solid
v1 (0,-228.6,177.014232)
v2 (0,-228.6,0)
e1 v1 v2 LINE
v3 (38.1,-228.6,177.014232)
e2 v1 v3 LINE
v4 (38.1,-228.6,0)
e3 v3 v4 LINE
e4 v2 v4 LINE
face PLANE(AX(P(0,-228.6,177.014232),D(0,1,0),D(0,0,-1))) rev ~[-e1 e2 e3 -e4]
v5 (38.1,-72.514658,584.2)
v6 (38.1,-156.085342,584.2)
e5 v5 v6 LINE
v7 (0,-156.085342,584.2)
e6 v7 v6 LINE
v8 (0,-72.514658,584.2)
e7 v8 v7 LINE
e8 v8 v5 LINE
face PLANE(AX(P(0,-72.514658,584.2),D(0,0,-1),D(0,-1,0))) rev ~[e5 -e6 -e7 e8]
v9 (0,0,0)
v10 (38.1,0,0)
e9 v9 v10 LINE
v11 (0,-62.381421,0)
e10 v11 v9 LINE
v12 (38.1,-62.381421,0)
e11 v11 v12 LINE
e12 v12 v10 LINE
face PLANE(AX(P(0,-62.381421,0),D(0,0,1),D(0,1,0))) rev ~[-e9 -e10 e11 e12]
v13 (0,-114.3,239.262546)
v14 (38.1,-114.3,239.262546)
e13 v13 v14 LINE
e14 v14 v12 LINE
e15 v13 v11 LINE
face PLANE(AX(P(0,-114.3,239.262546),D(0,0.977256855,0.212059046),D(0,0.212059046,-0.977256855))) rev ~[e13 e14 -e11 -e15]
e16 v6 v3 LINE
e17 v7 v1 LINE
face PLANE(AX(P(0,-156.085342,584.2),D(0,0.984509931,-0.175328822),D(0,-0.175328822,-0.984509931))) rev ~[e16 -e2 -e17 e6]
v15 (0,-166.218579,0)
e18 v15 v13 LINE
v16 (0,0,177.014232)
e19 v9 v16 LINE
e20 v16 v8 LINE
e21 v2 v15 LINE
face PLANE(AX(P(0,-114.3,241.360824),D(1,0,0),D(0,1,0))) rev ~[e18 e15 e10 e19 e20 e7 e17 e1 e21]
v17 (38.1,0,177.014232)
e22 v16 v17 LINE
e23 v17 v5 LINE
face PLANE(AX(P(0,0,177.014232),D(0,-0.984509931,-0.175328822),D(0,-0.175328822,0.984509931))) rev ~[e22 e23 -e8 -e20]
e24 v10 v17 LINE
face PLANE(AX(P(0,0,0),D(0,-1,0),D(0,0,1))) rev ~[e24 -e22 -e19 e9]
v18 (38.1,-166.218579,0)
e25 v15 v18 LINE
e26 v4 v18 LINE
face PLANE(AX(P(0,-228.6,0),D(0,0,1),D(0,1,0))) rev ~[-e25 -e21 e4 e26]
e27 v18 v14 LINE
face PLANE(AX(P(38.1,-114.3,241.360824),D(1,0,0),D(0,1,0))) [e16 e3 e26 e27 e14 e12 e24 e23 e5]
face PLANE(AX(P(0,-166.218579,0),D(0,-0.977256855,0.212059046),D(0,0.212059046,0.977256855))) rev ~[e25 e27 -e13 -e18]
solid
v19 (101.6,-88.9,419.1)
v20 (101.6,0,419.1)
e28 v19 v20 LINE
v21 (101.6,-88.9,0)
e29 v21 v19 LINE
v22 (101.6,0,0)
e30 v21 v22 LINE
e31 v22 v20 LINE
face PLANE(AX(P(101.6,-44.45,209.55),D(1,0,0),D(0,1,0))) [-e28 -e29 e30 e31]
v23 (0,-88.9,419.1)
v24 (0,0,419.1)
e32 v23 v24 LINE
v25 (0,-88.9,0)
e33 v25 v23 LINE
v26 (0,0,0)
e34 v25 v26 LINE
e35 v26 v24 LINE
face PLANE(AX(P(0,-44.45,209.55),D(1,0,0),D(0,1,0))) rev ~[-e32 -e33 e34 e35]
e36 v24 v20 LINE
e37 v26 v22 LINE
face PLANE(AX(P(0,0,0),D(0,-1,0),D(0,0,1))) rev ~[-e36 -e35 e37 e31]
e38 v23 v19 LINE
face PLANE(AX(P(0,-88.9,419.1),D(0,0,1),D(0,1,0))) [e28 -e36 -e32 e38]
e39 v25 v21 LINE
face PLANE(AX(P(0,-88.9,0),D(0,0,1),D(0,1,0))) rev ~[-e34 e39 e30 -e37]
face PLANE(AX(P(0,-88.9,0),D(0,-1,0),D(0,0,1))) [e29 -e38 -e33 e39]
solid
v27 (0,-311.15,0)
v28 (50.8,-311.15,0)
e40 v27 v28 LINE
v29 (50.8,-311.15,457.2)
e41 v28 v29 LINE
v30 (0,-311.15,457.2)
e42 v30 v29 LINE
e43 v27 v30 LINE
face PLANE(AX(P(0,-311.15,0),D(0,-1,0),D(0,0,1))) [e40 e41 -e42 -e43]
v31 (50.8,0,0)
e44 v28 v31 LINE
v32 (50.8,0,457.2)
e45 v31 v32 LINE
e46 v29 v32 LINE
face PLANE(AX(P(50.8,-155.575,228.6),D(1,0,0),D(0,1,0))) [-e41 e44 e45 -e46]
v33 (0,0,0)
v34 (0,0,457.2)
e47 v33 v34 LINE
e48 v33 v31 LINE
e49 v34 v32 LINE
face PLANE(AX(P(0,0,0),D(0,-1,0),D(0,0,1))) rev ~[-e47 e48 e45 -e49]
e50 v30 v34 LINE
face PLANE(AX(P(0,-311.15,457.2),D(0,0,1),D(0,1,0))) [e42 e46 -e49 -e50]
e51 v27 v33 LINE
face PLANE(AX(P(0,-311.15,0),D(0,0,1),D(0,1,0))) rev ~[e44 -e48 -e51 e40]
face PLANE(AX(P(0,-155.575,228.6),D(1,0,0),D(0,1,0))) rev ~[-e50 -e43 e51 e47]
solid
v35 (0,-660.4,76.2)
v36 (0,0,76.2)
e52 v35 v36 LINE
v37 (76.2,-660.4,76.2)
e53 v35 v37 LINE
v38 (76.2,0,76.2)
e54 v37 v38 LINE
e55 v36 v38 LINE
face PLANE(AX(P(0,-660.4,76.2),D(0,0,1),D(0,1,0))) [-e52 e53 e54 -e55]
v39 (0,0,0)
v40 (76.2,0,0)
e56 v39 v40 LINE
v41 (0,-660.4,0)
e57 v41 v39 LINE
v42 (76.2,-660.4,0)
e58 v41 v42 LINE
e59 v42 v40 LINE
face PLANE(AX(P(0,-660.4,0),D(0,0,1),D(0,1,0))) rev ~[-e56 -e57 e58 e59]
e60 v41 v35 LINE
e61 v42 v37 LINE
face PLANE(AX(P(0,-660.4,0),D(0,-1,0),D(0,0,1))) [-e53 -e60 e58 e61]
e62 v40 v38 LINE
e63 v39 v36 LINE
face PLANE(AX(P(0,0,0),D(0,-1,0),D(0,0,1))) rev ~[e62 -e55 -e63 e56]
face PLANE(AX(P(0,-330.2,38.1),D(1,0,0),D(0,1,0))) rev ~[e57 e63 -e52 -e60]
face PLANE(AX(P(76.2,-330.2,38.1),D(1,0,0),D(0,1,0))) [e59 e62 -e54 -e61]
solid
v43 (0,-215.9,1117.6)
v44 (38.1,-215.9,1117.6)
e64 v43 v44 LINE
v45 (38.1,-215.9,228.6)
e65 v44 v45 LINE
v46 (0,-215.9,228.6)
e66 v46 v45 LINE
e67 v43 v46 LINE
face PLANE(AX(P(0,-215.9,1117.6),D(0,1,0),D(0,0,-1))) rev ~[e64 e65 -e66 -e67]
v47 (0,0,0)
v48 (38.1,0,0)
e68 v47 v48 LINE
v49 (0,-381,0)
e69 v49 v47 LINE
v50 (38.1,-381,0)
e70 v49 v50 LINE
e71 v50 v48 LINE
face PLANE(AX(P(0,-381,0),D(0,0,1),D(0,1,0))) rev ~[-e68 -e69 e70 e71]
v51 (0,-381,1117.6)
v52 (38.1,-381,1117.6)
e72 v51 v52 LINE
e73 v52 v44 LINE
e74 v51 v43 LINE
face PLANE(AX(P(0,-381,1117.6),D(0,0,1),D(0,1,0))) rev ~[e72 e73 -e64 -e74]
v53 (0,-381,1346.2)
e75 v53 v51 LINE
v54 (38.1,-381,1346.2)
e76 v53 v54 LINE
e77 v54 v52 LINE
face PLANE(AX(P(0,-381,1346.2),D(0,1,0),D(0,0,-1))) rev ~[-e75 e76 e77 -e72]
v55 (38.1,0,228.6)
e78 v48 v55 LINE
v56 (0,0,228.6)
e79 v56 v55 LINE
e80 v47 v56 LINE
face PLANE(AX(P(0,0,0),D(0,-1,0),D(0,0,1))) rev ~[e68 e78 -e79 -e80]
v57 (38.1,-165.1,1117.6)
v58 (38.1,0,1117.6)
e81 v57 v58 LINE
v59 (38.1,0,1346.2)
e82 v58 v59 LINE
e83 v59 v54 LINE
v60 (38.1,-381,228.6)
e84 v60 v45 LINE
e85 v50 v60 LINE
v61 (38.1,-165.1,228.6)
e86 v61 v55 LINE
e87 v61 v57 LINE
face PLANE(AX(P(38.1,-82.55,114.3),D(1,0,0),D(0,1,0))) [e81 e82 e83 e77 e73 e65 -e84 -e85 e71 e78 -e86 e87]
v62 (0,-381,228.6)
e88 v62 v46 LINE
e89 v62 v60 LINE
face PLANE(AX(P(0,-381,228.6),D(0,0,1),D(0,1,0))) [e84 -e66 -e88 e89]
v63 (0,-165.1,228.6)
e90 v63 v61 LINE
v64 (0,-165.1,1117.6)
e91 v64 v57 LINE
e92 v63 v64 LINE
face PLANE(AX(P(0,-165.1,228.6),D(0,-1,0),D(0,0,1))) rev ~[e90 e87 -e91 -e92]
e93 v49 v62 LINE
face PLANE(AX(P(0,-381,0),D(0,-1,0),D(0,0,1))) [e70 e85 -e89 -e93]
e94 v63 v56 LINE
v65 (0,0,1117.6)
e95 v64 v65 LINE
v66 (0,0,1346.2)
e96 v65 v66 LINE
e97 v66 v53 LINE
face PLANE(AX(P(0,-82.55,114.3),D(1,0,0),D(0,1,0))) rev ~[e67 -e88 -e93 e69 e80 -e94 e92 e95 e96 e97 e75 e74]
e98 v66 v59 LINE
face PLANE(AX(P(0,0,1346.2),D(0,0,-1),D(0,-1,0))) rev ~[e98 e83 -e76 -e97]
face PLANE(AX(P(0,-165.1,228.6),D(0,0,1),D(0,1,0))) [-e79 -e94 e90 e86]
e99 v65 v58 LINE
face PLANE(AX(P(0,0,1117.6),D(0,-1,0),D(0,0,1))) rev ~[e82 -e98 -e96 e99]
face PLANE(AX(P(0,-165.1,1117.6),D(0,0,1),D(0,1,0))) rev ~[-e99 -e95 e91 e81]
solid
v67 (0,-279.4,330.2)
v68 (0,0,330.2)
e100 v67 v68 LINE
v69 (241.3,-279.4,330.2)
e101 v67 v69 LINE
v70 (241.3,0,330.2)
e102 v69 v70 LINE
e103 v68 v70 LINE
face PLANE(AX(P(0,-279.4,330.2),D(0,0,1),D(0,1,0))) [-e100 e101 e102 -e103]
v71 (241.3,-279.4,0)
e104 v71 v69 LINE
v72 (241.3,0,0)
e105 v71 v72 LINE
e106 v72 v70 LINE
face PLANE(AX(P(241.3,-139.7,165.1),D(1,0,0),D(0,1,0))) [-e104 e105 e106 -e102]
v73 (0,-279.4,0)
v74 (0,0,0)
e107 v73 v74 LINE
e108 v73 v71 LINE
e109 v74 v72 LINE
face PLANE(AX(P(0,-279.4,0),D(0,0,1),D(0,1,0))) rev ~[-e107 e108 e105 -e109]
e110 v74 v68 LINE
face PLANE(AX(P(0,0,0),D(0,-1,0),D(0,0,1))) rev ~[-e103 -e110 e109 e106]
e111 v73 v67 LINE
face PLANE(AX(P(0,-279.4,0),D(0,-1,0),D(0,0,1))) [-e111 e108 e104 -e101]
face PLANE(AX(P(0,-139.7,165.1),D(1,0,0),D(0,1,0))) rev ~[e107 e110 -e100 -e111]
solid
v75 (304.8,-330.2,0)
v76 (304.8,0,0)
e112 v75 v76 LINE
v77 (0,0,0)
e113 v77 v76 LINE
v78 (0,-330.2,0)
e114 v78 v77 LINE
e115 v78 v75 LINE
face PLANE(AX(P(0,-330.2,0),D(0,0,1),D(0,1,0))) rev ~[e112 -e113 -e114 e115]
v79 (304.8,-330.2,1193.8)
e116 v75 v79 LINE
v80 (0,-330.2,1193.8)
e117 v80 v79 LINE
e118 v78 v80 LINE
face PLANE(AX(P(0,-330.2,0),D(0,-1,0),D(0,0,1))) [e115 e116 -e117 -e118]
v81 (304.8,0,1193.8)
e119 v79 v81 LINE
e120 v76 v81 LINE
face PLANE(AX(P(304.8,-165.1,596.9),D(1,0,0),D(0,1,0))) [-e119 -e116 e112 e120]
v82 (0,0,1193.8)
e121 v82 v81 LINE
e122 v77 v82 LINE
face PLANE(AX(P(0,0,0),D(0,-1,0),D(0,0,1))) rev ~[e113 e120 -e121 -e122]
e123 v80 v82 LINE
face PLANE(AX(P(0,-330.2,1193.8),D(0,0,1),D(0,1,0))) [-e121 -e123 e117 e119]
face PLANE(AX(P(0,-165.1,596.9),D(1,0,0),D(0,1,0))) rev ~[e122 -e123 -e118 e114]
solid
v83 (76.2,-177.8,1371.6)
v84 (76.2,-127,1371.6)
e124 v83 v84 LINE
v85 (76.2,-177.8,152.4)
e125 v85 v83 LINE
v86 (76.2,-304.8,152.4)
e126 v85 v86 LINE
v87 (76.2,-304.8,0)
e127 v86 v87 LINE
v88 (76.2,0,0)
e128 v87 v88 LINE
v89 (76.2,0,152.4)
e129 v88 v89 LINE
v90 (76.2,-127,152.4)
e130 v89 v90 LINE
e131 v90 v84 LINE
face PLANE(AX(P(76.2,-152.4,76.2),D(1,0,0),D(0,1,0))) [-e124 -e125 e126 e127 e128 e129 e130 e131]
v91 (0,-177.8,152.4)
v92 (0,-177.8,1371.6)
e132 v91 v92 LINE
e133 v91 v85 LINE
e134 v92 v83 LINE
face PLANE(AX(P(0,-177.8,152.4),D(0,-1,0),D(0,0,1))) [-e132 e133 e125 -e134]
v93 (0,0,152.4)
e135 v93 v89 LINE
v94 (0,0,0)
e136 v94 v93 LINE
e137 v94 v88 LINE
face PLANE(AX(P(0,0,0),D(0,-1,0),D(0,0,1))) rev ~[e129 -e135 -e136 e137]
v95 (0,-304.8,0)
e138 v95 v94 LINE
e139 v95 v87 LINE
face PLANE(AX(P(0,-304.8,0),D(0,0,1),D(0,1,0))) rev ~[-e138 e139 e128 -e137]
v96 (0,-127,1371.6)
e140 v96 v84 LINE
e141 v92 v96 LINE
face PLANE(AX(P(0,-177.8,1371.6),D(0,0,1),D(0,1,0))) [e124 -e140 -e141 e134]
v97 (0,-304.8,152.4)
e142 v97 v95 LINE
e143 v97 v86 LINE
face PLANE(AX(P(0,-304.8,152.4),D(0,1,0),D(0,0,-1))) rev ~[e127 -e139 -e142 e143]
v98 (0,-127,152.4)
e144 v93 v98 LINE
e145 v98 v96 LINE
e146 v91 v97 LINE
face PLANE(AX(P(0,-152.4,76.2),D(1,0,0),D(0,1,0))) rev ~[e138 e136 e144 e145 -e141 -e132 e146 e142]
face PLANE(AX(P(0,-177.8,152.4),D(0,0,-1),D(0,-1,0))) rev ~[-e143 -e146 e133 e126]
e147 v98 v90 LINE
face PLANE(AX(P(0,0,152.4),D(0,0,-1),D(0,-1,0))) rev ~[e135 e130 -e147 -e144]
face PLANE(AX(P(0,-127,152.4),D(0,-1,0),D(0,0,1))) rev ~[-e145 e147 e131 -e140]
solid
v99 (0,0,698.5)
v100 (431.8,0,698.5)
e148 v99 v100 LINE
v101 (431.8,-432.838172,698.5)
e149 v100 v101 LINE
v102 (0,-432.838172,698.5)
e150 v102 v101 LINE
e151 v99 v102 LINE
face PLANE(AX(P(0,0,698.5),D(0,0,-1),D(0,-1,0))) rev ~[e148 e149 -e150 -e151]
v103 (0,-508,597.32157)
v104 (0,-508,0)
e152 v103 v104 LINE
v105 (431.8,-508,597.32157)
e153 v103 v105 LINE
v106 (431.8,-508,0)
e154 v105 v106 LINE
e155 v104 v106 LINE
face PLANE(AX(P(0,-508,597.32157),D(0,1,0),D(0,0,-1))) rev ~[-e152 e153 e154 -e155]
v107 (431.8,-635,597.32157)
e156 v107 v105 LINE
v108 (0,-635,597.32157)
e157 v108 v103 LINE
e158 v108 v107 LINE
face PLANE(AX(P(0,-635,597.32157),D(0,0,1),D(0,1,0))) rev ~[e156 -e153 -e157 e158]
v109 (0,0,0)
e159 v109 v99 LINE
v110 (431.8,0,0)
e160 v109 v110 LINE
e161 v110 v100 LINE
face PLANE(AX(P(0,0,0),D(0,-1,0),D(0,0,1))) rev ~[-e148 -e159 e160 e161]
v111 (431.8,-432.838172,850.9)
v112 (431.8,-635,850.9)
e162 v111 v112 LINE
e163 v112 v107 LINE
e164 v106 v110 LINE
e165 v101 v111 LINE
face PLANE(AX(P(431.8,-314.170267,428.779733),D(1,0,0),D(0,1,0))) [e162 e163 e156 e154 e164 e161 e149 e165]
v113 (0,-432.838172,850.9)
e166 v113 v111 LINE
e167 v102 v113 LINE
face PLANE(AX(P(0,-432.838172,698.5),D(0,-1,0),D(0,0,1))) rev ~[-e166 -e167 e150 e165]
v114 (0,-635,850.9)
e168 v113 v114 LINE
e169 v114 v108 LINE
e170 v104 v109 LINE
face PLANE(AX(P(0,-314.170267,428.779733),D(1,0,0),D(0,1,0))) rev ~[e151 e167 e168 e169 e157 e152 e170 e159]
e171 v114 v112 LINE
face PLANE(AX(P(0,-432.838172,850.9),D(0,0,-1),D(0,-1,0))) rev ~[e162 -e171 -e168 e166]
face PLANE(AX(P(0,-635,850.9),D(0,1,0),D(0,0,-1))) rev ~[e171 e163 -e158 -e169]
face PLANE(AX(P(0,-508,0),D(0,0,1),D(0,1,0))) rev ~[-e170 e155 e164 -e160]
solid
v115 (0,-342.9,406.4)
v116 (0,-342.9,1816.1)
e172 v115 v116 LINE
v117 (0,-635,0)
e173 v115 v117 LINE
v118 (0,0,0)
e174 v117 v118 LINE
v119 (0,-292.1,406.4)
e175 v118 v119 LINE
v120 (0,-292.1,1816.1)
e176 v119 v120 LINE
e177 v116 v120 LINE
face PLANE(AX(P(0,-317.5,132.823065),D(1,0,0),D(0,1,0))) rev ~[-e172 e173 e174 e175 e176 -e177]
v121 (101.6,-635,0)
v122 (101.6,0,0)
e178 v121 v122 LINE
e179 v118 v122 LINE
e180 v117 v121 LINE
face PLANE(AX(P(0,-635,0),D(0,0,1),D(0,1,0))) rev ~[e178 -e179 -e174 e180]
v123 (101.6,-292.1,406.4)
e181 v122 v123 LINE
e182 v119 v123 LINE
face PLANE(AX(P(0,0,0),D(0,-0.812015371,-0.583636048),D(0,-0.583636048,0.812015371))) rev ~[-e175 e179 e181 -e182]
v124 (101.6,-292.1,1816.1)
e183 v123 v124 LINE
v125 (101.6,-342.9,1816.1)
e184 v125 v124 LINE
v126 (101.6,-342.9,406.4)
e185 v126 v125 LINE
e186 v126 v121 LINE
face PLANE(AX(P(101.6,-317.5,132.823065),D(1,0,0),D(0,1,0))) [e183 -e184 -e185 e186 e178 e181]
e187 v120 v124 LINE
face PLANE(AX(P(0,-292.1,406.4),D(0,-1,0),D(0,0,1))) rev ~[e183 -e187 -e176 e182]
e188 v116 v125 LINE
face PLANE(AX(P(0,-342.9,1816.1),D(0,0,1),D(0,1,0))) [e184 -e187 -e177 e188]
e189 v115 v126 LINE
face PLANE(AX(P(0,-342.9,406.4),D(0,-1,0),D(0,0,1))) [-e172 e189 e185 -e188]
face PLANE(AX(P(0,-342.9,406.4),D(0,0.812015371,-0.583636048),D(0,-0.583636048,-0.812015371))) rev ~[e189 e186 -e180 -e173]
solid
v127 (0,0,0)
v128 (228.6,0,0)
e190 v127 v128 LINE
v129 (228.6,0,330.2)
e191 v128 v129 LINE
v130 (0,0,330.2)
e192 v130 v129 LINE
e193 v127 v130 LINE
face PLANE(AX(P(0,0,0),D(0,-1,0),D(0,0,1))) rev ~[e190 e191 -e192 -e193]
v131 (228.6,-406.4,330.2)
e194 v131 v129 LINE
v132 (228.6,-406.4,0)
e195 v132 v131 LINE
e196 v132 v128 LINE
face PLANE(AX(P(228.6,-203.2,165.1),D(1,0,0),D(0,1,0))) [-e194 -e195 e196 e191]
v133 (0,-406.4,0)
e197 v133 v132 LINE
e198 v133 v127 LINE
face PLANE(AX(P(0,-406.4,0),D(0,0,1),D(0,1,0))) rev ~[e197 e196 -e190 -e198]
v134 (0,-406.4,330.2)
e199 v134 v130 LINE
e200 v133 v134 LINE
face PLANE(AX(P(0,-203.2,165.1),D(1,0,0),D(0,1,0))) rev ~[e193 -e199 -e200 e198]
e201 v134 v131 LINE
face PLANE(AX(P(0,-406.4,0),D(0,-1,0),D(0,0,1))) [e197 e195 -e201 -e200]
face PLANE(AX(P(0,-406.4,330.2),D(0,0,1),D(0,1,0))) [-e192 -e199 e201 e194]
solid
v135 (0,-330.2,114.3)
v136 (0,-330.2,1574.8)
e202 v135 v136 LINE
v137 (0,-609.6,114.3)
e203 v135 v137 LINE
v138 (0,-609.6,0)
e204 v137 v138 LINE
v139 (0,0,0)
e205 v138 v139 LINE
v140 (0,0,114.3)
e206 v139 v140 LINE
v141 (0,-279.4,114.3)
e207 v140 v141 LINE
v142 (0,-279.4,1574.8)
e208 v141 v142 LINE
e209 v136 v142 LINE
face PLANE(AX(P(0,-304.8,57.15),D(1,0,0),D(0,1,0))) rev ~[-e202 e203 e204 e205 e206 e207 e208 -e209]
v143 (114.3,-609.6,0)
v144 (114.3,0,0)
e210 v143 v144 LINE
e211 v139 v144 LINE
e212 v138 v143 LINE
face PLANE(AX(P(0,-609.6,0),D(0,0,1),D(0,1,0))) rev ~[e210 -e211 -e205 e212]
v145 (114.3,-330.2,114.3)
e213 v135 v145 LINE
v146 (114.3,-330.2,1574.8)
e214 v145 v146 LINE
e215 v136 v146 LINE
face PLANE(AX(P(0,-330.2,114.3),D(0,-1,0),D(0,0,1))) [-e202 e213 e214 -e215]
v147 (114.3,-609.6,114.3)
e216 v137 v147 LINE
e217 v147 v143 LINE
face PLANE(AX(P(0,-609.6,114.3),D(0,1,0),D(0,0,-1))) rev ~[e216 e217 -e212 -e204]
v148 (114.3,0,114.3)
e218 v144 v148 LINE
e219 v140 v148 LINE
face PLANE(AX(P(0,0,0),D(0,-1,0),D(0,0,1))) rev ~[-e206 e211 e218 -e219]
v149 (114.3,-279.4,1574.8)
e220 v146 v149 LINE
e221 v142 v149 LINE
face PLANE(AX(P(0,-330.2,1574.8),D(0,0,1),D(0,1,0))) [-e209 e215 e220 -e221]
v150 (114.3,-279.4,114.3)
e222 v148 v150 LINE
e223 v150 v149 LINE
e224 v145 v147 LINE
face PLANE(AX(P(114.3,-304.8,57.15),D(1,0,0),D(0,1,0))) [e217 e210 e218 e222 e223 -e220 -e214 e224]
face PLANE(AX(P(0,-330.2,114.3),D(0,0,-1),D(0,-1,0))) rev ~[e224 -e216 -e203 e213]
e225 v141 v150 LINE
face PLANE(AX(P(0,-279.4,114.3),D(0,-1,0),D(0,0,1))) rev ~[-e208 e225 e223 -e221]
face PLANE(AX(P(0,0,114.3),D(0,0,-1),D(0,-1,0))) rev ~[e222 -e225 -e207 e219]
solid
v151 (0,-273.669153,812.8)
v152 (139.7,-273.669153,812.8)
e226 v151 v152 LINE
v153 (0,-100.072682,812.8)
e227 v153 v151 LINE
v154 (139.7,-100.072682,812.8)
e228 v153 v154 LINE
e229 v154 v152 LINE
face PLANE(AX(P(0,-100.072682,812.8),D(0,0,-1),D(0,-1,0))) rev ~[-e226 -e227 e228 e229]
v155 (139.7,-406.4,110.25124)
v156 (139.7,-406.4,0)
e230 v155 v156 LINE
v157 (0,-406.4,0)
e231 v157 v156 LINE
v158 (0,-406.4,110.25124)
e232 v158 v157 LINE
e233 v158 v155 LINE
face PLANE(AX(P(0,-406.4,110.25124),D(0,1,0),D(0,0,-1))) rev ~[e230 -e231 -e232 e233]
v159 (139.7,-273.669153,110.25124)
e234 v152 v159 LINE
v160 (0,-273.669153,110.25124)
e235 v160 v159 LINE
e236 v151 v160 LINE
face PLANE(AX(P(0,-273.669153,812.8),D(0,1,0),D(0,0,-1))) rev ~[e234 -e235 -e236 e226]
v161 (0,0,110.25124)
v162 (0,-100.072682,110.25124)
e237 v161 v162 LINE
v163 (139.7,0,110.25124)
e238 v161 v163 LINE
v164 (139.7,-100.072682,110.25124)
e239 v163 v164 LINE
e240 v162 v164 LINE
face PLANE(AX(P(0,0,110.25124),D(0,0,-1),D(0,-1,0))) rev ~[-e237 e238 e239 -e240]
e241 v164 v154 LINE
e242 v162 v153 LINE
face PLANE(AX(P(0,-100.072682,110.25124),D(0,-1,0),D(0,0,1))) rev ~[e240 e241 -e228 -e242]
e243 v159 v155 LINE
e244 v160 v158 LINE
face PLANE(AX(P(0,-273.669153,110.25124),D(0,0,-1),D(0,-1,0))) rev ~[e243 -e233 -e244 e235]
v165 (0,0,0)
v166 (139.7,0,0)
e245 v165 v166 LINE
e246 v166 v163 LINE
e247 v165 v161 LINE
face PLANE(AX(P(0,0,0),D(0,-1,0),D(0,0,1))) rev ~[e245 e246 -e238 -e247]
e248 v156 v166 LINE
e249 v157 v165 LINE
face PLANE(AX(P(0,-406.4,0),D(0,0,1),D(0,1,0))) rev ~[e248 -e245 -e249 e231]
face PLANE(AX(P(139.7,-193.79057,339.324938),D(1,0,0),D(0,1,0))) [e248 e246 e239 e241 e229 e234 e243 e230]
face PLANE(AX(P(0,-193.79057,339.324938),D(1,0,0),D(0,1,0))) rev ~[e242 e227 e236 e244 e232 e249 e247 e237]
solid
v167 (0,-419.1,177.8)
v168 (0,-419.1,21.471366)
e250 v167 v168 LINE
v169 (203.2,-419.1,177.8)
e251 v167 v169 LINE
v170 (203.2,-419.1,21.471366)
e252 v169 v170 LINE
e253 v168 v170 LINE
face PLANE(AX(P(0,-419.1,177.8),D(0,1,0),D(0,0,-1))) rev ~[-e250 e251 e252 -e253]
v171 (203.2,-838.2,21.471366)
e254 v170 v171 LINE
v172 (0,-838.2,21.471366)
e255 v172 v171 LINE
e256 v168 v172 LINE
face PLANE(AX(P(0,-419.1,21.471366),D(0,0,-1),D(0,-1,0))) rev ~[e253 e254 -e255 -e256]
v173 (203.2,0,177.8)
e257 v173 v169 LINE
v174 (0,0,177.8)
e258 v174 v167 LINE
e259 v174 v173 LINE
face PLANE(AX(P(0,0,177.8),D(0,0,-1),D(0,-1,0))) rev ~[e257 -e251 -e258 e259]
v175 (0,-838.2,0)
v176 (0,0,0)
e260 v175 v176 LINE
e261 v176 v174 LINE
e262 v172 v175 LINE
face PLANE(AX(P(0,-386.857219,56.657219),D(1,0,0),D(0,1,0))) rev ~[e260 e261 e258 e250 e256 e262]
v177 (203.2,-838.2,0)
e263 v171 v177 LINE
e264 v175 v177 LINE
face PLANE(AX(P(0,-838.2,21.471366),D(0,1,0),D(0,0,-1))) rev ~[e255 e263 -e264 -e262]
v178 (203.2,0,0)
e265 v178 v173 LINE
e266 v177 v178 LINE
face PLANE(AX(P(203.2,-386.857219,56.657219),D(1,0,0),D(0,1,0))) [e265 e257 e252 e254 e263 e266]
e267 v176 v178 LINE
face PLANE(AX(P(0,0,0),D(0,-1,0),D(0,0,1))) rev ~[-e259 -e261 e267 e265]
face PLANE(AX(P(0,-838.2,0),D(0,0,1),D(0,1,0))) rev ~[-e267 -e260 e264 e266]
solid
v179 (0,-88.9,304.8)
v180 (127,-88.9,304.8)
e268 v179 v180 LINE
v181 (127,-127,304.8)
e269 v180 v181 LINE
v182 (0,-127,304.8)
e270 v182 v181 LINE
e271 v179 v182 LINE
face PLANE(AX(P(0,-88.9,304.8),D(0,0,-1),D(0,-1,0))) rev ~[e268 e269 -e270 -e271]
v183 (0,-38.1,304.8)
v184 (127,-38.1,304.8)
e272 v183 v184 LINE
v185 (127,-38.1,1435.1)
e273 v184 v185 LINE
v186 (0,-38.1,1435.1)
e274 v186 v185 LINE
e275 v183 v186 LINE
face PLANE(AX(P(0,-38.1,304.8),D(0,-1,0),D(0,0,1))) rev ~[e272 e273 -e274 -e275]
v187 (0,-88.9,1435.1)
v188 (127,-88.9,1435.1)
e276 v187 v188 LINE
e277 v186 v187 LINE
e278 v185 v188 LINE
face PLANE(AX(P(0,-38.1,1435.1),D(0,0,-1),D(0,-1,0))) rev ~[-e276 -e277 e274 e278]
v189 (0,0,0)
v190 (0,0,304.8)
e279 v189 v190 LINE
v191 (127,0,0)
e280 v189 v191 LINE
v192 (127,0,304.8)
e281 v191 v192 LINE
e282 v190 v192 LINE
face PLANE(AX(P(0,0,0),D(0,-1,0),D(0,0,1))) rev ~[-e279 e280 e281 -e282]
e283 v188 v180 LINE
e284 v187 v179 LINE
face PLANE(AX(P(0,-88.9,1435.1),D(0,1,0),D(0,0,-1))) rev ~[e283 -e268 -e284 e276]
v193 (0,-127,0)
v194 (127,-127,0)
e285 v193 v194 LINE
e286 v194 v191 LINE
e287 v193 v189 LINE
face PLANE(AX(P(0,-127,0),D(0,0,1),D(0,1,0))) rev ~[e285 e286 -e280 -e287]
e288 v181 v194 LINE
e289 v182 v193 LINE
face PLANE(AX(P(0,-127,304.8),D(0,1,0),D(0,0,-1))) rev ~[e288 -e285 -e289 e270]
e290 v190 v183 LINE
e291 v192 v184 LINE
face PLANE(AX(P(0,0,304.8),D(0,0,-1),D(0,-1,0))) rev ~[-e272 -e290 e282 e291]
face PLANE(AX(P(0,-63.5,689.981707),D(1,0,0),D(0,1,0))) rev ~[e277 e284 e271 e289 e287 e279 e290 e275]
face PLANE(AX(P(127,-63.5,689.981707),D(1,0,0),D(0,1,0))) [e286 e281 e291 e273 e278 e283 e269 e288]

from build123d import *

# Parameters (mm, degrees)
F1_DEPTH  = 431.8
F2_W      = 279.4
F2_H      = 330.2
F3_DEPTH  = 241.3
F4_W      = 88.9
F4_H      = 419.1
F5_DEPTH  = 101.6
F6_W      = 311.15
F6_H      = 457.2
F7_DEPTH  = 50.8
F8_W      = 50.8
F8_H      = 1460.5
F9_DEPTH  = 114.3
F10_W     = 165.1
F10_H     = 228.6
F11_DEPTH = 38.1
F12_W     = 50.8
F12_H     = 1409.7
F13_DEPTH = 101.6
F14_W     = 50.8
F14_H     = 1219.2
F15_DEPTH = 76.2
F17_DEPTH = 127
F19_DEPTH = 203.2
F20_W     = 406.4
F20_H     = 330.2
F21_DEPTH = 228.6
F22_W     = 660.4
F22_H     = 76.2
F23_DEPTH = 76.2
F25_DEPTH = 139.7
F26_W     = 330.2
F26_H     = 1193.8
F27_DEPTH = 304.8
F29_DEPTH = 38.1


with BuildPart() as f1:
    # F0 (on Right) → F1 (new body)
    with BuildSketch(Plane.YZ):
        Polygon((-508, 0), (0, 0), (0, 698.5), (-432.838172, 698.5), (-432.838172, 850.9), (-635, 850.9), (-635, 597.32157), (-508, 597.32157), align=None)
    extrude(amount=F1_DEPTH)


with BuildPart() as f3:
    # F2 (on Right) → F3 (new body)
    with BuildSketch(Plane.YZ):
        with Locations((-139.7, 165.1)):
            Rectangle(F2_W, F2_H)
    extrude(amount=F3_DEPTH)


with BuildPart() as f5:
    # F4 (on Right) → F5 (new body)
    with BuildSketch(Plane.YZ):
        with Locations((-44.45, 209.55)):
            Rectangle(F4_W, F4_H)
    extrude(amount=F5_DEPTH)


with BuildPart() as f7:
    # F6 (on Right) → F7 (new body)
    with BuildSketch(Plane.YZ):
        with Locations((-155.575, 228.6)):
            Rectangle(F6_W, F6_H)
    extrude(amount=F7_DEPTH)


with BuildPart() as f9:
    # F8 (on Right) → F9 (new body)
    with BuildSketch(Plane.YZ):
        Polygon((-609.6, 0), (0, 0), (0, 114.3), (-279.4, 114.3), (-330.2, 114.3), (-609.6, 114.3), align=None)
        with Locations((-304.8, 844.55)):
            Rectangle(F8_W, F8_H)
    extrude(amount=F9_DEPTH)


with BuildPart() as f11:
    # F10 (on Right) → F11 (new body)
    with BuildSketch(Plane.YZ):
        with Locations((-82.55, 114.3)):
            Rectangle(F10_W, F10_H)
        Polygon((-215.9, 0), (-165.1, 0), (-165.1, 228.6), (-165.1, 1117.6), (0, 1117.6), (0, 1346.2), (-381, 1346.2), (-381, 1117.6), (-215.9, 1117.6), (-215.9, 228.6), align=None)
        with Locations((-298.45, 114.3)):
            Rectangle(F10_W, F10_H)
    extrude(amount=F11_DEPTH)


with BuildPart() as f13:
    # F12 (on Right) → F13 (new body)
    with BuildSketch(Plane.YZ):
        Polygon((-635, 0), (0, 0), (-292.1, 406.4), (-342.9, 406.4), align=None)
        with Locations((-317.5, 1111.25)):
            Rectangle(F12_W, F12_H)
    extrude(amount=F13_DEPTH)


with BuildPart() as f15:
    # F14 (on Right) → F15 (new body)
    with BuildSketch(Plane.YZ):
        Polygon((-304.8, 0), (0, 0), (0, 152.4), (-127, 152.4), (-177.8, 152.4), (-304.8, 152.4), align=None)
        with Locations((-152.4, 762)):
            Rectangle(F14_W, F14_H)
    extrude(amount=F15_DEPTH)


with BuildPart() as f17:
    # F16 (on Right) → F17 (new body)
    with BuildSketch(Plane.YZ):
        Polygon((-127, 0), (0, 0), (0, 304.8), (-38.1, 304.8), (-38.1, 1435.1), (-88.9, 1435.1), (-88.9, 304.8), (-127, 304.8), align=None)
    extrude(amount=F17_DEPTH)


with BuildPart() as f19:
    # F18 (on Right) → F19 (new body)
    with BuildSketch(Plane.YZ):
        Polygon((-838.2, 0), (0, 0), (0, 177.8), (-419.1, 177.8), (-419.1, 21.471366), (-838.2, 21.471366), align=None)
    extrude(amount=F19_DEPTH)


with BuildPart() as f21:
    # F20 (on Right) → F21 (new body)
    with BuildSketch(Plane.YZ):
        with Locations((-203.2, 165.1)):
            Rectangle(F20_W, F20_H)
    extrude(amount=F21_DEPTH)


with BuildPart() as f23:
    # F22 (on Right) → F23 (new body)
    with BuildSketch(Plane.YZ):
        with Locations((-330.2, 38.1)):
            Rectangle(F22_W, F22_H)
    extrude(amount=F23_DEPTH)


with BuildPart() as f25:
    # F24 (on Right) → F25 (new body)
    with BuildSketch(Plane.YZ):
        Polygon((-406.4, 0), (0, 0), (0, 110.25124), (-100.072682, 110.25124), (-100.072682, 812.8), (-273.669153, 812.8), (-273.669153, 110.25124), (-406.4, 110.25124), align=None)
    extrude(amount=F25_DEPTH)


with BuildPart() as f27:
    # F26 (on Right) → F27 (new body)
    with BuildSketch(Plane.YZ):
        with Locations((-165.1, 596.9)):
            Rectangle(F26_W, F26_H)
    extrude(amount=F27_DEPTH)


with BuildPart() as f29:
    # F28 (on Right) → F29 (new body)
    with BuildSketch(Plane.YZ):
        Polygon((-62.381421, 0), (0, 0), (0, 177.014232), (-72.514658, 584.2), (-156.085342, 584.2), (-228.6, 177.014232), (-228.6, 0), (-166.218579, 0), (-114.3, 239.262546), align=None)
    extrude(amount=F29_DEPTH)


solid = Compound([f1.part, f3.part, f5.part, f7.part, f9.part, f11.part, f13.part, f15.part, f17.part, f19.part, f21.part, f23.part, f25.part, f27.part, f29.part])
